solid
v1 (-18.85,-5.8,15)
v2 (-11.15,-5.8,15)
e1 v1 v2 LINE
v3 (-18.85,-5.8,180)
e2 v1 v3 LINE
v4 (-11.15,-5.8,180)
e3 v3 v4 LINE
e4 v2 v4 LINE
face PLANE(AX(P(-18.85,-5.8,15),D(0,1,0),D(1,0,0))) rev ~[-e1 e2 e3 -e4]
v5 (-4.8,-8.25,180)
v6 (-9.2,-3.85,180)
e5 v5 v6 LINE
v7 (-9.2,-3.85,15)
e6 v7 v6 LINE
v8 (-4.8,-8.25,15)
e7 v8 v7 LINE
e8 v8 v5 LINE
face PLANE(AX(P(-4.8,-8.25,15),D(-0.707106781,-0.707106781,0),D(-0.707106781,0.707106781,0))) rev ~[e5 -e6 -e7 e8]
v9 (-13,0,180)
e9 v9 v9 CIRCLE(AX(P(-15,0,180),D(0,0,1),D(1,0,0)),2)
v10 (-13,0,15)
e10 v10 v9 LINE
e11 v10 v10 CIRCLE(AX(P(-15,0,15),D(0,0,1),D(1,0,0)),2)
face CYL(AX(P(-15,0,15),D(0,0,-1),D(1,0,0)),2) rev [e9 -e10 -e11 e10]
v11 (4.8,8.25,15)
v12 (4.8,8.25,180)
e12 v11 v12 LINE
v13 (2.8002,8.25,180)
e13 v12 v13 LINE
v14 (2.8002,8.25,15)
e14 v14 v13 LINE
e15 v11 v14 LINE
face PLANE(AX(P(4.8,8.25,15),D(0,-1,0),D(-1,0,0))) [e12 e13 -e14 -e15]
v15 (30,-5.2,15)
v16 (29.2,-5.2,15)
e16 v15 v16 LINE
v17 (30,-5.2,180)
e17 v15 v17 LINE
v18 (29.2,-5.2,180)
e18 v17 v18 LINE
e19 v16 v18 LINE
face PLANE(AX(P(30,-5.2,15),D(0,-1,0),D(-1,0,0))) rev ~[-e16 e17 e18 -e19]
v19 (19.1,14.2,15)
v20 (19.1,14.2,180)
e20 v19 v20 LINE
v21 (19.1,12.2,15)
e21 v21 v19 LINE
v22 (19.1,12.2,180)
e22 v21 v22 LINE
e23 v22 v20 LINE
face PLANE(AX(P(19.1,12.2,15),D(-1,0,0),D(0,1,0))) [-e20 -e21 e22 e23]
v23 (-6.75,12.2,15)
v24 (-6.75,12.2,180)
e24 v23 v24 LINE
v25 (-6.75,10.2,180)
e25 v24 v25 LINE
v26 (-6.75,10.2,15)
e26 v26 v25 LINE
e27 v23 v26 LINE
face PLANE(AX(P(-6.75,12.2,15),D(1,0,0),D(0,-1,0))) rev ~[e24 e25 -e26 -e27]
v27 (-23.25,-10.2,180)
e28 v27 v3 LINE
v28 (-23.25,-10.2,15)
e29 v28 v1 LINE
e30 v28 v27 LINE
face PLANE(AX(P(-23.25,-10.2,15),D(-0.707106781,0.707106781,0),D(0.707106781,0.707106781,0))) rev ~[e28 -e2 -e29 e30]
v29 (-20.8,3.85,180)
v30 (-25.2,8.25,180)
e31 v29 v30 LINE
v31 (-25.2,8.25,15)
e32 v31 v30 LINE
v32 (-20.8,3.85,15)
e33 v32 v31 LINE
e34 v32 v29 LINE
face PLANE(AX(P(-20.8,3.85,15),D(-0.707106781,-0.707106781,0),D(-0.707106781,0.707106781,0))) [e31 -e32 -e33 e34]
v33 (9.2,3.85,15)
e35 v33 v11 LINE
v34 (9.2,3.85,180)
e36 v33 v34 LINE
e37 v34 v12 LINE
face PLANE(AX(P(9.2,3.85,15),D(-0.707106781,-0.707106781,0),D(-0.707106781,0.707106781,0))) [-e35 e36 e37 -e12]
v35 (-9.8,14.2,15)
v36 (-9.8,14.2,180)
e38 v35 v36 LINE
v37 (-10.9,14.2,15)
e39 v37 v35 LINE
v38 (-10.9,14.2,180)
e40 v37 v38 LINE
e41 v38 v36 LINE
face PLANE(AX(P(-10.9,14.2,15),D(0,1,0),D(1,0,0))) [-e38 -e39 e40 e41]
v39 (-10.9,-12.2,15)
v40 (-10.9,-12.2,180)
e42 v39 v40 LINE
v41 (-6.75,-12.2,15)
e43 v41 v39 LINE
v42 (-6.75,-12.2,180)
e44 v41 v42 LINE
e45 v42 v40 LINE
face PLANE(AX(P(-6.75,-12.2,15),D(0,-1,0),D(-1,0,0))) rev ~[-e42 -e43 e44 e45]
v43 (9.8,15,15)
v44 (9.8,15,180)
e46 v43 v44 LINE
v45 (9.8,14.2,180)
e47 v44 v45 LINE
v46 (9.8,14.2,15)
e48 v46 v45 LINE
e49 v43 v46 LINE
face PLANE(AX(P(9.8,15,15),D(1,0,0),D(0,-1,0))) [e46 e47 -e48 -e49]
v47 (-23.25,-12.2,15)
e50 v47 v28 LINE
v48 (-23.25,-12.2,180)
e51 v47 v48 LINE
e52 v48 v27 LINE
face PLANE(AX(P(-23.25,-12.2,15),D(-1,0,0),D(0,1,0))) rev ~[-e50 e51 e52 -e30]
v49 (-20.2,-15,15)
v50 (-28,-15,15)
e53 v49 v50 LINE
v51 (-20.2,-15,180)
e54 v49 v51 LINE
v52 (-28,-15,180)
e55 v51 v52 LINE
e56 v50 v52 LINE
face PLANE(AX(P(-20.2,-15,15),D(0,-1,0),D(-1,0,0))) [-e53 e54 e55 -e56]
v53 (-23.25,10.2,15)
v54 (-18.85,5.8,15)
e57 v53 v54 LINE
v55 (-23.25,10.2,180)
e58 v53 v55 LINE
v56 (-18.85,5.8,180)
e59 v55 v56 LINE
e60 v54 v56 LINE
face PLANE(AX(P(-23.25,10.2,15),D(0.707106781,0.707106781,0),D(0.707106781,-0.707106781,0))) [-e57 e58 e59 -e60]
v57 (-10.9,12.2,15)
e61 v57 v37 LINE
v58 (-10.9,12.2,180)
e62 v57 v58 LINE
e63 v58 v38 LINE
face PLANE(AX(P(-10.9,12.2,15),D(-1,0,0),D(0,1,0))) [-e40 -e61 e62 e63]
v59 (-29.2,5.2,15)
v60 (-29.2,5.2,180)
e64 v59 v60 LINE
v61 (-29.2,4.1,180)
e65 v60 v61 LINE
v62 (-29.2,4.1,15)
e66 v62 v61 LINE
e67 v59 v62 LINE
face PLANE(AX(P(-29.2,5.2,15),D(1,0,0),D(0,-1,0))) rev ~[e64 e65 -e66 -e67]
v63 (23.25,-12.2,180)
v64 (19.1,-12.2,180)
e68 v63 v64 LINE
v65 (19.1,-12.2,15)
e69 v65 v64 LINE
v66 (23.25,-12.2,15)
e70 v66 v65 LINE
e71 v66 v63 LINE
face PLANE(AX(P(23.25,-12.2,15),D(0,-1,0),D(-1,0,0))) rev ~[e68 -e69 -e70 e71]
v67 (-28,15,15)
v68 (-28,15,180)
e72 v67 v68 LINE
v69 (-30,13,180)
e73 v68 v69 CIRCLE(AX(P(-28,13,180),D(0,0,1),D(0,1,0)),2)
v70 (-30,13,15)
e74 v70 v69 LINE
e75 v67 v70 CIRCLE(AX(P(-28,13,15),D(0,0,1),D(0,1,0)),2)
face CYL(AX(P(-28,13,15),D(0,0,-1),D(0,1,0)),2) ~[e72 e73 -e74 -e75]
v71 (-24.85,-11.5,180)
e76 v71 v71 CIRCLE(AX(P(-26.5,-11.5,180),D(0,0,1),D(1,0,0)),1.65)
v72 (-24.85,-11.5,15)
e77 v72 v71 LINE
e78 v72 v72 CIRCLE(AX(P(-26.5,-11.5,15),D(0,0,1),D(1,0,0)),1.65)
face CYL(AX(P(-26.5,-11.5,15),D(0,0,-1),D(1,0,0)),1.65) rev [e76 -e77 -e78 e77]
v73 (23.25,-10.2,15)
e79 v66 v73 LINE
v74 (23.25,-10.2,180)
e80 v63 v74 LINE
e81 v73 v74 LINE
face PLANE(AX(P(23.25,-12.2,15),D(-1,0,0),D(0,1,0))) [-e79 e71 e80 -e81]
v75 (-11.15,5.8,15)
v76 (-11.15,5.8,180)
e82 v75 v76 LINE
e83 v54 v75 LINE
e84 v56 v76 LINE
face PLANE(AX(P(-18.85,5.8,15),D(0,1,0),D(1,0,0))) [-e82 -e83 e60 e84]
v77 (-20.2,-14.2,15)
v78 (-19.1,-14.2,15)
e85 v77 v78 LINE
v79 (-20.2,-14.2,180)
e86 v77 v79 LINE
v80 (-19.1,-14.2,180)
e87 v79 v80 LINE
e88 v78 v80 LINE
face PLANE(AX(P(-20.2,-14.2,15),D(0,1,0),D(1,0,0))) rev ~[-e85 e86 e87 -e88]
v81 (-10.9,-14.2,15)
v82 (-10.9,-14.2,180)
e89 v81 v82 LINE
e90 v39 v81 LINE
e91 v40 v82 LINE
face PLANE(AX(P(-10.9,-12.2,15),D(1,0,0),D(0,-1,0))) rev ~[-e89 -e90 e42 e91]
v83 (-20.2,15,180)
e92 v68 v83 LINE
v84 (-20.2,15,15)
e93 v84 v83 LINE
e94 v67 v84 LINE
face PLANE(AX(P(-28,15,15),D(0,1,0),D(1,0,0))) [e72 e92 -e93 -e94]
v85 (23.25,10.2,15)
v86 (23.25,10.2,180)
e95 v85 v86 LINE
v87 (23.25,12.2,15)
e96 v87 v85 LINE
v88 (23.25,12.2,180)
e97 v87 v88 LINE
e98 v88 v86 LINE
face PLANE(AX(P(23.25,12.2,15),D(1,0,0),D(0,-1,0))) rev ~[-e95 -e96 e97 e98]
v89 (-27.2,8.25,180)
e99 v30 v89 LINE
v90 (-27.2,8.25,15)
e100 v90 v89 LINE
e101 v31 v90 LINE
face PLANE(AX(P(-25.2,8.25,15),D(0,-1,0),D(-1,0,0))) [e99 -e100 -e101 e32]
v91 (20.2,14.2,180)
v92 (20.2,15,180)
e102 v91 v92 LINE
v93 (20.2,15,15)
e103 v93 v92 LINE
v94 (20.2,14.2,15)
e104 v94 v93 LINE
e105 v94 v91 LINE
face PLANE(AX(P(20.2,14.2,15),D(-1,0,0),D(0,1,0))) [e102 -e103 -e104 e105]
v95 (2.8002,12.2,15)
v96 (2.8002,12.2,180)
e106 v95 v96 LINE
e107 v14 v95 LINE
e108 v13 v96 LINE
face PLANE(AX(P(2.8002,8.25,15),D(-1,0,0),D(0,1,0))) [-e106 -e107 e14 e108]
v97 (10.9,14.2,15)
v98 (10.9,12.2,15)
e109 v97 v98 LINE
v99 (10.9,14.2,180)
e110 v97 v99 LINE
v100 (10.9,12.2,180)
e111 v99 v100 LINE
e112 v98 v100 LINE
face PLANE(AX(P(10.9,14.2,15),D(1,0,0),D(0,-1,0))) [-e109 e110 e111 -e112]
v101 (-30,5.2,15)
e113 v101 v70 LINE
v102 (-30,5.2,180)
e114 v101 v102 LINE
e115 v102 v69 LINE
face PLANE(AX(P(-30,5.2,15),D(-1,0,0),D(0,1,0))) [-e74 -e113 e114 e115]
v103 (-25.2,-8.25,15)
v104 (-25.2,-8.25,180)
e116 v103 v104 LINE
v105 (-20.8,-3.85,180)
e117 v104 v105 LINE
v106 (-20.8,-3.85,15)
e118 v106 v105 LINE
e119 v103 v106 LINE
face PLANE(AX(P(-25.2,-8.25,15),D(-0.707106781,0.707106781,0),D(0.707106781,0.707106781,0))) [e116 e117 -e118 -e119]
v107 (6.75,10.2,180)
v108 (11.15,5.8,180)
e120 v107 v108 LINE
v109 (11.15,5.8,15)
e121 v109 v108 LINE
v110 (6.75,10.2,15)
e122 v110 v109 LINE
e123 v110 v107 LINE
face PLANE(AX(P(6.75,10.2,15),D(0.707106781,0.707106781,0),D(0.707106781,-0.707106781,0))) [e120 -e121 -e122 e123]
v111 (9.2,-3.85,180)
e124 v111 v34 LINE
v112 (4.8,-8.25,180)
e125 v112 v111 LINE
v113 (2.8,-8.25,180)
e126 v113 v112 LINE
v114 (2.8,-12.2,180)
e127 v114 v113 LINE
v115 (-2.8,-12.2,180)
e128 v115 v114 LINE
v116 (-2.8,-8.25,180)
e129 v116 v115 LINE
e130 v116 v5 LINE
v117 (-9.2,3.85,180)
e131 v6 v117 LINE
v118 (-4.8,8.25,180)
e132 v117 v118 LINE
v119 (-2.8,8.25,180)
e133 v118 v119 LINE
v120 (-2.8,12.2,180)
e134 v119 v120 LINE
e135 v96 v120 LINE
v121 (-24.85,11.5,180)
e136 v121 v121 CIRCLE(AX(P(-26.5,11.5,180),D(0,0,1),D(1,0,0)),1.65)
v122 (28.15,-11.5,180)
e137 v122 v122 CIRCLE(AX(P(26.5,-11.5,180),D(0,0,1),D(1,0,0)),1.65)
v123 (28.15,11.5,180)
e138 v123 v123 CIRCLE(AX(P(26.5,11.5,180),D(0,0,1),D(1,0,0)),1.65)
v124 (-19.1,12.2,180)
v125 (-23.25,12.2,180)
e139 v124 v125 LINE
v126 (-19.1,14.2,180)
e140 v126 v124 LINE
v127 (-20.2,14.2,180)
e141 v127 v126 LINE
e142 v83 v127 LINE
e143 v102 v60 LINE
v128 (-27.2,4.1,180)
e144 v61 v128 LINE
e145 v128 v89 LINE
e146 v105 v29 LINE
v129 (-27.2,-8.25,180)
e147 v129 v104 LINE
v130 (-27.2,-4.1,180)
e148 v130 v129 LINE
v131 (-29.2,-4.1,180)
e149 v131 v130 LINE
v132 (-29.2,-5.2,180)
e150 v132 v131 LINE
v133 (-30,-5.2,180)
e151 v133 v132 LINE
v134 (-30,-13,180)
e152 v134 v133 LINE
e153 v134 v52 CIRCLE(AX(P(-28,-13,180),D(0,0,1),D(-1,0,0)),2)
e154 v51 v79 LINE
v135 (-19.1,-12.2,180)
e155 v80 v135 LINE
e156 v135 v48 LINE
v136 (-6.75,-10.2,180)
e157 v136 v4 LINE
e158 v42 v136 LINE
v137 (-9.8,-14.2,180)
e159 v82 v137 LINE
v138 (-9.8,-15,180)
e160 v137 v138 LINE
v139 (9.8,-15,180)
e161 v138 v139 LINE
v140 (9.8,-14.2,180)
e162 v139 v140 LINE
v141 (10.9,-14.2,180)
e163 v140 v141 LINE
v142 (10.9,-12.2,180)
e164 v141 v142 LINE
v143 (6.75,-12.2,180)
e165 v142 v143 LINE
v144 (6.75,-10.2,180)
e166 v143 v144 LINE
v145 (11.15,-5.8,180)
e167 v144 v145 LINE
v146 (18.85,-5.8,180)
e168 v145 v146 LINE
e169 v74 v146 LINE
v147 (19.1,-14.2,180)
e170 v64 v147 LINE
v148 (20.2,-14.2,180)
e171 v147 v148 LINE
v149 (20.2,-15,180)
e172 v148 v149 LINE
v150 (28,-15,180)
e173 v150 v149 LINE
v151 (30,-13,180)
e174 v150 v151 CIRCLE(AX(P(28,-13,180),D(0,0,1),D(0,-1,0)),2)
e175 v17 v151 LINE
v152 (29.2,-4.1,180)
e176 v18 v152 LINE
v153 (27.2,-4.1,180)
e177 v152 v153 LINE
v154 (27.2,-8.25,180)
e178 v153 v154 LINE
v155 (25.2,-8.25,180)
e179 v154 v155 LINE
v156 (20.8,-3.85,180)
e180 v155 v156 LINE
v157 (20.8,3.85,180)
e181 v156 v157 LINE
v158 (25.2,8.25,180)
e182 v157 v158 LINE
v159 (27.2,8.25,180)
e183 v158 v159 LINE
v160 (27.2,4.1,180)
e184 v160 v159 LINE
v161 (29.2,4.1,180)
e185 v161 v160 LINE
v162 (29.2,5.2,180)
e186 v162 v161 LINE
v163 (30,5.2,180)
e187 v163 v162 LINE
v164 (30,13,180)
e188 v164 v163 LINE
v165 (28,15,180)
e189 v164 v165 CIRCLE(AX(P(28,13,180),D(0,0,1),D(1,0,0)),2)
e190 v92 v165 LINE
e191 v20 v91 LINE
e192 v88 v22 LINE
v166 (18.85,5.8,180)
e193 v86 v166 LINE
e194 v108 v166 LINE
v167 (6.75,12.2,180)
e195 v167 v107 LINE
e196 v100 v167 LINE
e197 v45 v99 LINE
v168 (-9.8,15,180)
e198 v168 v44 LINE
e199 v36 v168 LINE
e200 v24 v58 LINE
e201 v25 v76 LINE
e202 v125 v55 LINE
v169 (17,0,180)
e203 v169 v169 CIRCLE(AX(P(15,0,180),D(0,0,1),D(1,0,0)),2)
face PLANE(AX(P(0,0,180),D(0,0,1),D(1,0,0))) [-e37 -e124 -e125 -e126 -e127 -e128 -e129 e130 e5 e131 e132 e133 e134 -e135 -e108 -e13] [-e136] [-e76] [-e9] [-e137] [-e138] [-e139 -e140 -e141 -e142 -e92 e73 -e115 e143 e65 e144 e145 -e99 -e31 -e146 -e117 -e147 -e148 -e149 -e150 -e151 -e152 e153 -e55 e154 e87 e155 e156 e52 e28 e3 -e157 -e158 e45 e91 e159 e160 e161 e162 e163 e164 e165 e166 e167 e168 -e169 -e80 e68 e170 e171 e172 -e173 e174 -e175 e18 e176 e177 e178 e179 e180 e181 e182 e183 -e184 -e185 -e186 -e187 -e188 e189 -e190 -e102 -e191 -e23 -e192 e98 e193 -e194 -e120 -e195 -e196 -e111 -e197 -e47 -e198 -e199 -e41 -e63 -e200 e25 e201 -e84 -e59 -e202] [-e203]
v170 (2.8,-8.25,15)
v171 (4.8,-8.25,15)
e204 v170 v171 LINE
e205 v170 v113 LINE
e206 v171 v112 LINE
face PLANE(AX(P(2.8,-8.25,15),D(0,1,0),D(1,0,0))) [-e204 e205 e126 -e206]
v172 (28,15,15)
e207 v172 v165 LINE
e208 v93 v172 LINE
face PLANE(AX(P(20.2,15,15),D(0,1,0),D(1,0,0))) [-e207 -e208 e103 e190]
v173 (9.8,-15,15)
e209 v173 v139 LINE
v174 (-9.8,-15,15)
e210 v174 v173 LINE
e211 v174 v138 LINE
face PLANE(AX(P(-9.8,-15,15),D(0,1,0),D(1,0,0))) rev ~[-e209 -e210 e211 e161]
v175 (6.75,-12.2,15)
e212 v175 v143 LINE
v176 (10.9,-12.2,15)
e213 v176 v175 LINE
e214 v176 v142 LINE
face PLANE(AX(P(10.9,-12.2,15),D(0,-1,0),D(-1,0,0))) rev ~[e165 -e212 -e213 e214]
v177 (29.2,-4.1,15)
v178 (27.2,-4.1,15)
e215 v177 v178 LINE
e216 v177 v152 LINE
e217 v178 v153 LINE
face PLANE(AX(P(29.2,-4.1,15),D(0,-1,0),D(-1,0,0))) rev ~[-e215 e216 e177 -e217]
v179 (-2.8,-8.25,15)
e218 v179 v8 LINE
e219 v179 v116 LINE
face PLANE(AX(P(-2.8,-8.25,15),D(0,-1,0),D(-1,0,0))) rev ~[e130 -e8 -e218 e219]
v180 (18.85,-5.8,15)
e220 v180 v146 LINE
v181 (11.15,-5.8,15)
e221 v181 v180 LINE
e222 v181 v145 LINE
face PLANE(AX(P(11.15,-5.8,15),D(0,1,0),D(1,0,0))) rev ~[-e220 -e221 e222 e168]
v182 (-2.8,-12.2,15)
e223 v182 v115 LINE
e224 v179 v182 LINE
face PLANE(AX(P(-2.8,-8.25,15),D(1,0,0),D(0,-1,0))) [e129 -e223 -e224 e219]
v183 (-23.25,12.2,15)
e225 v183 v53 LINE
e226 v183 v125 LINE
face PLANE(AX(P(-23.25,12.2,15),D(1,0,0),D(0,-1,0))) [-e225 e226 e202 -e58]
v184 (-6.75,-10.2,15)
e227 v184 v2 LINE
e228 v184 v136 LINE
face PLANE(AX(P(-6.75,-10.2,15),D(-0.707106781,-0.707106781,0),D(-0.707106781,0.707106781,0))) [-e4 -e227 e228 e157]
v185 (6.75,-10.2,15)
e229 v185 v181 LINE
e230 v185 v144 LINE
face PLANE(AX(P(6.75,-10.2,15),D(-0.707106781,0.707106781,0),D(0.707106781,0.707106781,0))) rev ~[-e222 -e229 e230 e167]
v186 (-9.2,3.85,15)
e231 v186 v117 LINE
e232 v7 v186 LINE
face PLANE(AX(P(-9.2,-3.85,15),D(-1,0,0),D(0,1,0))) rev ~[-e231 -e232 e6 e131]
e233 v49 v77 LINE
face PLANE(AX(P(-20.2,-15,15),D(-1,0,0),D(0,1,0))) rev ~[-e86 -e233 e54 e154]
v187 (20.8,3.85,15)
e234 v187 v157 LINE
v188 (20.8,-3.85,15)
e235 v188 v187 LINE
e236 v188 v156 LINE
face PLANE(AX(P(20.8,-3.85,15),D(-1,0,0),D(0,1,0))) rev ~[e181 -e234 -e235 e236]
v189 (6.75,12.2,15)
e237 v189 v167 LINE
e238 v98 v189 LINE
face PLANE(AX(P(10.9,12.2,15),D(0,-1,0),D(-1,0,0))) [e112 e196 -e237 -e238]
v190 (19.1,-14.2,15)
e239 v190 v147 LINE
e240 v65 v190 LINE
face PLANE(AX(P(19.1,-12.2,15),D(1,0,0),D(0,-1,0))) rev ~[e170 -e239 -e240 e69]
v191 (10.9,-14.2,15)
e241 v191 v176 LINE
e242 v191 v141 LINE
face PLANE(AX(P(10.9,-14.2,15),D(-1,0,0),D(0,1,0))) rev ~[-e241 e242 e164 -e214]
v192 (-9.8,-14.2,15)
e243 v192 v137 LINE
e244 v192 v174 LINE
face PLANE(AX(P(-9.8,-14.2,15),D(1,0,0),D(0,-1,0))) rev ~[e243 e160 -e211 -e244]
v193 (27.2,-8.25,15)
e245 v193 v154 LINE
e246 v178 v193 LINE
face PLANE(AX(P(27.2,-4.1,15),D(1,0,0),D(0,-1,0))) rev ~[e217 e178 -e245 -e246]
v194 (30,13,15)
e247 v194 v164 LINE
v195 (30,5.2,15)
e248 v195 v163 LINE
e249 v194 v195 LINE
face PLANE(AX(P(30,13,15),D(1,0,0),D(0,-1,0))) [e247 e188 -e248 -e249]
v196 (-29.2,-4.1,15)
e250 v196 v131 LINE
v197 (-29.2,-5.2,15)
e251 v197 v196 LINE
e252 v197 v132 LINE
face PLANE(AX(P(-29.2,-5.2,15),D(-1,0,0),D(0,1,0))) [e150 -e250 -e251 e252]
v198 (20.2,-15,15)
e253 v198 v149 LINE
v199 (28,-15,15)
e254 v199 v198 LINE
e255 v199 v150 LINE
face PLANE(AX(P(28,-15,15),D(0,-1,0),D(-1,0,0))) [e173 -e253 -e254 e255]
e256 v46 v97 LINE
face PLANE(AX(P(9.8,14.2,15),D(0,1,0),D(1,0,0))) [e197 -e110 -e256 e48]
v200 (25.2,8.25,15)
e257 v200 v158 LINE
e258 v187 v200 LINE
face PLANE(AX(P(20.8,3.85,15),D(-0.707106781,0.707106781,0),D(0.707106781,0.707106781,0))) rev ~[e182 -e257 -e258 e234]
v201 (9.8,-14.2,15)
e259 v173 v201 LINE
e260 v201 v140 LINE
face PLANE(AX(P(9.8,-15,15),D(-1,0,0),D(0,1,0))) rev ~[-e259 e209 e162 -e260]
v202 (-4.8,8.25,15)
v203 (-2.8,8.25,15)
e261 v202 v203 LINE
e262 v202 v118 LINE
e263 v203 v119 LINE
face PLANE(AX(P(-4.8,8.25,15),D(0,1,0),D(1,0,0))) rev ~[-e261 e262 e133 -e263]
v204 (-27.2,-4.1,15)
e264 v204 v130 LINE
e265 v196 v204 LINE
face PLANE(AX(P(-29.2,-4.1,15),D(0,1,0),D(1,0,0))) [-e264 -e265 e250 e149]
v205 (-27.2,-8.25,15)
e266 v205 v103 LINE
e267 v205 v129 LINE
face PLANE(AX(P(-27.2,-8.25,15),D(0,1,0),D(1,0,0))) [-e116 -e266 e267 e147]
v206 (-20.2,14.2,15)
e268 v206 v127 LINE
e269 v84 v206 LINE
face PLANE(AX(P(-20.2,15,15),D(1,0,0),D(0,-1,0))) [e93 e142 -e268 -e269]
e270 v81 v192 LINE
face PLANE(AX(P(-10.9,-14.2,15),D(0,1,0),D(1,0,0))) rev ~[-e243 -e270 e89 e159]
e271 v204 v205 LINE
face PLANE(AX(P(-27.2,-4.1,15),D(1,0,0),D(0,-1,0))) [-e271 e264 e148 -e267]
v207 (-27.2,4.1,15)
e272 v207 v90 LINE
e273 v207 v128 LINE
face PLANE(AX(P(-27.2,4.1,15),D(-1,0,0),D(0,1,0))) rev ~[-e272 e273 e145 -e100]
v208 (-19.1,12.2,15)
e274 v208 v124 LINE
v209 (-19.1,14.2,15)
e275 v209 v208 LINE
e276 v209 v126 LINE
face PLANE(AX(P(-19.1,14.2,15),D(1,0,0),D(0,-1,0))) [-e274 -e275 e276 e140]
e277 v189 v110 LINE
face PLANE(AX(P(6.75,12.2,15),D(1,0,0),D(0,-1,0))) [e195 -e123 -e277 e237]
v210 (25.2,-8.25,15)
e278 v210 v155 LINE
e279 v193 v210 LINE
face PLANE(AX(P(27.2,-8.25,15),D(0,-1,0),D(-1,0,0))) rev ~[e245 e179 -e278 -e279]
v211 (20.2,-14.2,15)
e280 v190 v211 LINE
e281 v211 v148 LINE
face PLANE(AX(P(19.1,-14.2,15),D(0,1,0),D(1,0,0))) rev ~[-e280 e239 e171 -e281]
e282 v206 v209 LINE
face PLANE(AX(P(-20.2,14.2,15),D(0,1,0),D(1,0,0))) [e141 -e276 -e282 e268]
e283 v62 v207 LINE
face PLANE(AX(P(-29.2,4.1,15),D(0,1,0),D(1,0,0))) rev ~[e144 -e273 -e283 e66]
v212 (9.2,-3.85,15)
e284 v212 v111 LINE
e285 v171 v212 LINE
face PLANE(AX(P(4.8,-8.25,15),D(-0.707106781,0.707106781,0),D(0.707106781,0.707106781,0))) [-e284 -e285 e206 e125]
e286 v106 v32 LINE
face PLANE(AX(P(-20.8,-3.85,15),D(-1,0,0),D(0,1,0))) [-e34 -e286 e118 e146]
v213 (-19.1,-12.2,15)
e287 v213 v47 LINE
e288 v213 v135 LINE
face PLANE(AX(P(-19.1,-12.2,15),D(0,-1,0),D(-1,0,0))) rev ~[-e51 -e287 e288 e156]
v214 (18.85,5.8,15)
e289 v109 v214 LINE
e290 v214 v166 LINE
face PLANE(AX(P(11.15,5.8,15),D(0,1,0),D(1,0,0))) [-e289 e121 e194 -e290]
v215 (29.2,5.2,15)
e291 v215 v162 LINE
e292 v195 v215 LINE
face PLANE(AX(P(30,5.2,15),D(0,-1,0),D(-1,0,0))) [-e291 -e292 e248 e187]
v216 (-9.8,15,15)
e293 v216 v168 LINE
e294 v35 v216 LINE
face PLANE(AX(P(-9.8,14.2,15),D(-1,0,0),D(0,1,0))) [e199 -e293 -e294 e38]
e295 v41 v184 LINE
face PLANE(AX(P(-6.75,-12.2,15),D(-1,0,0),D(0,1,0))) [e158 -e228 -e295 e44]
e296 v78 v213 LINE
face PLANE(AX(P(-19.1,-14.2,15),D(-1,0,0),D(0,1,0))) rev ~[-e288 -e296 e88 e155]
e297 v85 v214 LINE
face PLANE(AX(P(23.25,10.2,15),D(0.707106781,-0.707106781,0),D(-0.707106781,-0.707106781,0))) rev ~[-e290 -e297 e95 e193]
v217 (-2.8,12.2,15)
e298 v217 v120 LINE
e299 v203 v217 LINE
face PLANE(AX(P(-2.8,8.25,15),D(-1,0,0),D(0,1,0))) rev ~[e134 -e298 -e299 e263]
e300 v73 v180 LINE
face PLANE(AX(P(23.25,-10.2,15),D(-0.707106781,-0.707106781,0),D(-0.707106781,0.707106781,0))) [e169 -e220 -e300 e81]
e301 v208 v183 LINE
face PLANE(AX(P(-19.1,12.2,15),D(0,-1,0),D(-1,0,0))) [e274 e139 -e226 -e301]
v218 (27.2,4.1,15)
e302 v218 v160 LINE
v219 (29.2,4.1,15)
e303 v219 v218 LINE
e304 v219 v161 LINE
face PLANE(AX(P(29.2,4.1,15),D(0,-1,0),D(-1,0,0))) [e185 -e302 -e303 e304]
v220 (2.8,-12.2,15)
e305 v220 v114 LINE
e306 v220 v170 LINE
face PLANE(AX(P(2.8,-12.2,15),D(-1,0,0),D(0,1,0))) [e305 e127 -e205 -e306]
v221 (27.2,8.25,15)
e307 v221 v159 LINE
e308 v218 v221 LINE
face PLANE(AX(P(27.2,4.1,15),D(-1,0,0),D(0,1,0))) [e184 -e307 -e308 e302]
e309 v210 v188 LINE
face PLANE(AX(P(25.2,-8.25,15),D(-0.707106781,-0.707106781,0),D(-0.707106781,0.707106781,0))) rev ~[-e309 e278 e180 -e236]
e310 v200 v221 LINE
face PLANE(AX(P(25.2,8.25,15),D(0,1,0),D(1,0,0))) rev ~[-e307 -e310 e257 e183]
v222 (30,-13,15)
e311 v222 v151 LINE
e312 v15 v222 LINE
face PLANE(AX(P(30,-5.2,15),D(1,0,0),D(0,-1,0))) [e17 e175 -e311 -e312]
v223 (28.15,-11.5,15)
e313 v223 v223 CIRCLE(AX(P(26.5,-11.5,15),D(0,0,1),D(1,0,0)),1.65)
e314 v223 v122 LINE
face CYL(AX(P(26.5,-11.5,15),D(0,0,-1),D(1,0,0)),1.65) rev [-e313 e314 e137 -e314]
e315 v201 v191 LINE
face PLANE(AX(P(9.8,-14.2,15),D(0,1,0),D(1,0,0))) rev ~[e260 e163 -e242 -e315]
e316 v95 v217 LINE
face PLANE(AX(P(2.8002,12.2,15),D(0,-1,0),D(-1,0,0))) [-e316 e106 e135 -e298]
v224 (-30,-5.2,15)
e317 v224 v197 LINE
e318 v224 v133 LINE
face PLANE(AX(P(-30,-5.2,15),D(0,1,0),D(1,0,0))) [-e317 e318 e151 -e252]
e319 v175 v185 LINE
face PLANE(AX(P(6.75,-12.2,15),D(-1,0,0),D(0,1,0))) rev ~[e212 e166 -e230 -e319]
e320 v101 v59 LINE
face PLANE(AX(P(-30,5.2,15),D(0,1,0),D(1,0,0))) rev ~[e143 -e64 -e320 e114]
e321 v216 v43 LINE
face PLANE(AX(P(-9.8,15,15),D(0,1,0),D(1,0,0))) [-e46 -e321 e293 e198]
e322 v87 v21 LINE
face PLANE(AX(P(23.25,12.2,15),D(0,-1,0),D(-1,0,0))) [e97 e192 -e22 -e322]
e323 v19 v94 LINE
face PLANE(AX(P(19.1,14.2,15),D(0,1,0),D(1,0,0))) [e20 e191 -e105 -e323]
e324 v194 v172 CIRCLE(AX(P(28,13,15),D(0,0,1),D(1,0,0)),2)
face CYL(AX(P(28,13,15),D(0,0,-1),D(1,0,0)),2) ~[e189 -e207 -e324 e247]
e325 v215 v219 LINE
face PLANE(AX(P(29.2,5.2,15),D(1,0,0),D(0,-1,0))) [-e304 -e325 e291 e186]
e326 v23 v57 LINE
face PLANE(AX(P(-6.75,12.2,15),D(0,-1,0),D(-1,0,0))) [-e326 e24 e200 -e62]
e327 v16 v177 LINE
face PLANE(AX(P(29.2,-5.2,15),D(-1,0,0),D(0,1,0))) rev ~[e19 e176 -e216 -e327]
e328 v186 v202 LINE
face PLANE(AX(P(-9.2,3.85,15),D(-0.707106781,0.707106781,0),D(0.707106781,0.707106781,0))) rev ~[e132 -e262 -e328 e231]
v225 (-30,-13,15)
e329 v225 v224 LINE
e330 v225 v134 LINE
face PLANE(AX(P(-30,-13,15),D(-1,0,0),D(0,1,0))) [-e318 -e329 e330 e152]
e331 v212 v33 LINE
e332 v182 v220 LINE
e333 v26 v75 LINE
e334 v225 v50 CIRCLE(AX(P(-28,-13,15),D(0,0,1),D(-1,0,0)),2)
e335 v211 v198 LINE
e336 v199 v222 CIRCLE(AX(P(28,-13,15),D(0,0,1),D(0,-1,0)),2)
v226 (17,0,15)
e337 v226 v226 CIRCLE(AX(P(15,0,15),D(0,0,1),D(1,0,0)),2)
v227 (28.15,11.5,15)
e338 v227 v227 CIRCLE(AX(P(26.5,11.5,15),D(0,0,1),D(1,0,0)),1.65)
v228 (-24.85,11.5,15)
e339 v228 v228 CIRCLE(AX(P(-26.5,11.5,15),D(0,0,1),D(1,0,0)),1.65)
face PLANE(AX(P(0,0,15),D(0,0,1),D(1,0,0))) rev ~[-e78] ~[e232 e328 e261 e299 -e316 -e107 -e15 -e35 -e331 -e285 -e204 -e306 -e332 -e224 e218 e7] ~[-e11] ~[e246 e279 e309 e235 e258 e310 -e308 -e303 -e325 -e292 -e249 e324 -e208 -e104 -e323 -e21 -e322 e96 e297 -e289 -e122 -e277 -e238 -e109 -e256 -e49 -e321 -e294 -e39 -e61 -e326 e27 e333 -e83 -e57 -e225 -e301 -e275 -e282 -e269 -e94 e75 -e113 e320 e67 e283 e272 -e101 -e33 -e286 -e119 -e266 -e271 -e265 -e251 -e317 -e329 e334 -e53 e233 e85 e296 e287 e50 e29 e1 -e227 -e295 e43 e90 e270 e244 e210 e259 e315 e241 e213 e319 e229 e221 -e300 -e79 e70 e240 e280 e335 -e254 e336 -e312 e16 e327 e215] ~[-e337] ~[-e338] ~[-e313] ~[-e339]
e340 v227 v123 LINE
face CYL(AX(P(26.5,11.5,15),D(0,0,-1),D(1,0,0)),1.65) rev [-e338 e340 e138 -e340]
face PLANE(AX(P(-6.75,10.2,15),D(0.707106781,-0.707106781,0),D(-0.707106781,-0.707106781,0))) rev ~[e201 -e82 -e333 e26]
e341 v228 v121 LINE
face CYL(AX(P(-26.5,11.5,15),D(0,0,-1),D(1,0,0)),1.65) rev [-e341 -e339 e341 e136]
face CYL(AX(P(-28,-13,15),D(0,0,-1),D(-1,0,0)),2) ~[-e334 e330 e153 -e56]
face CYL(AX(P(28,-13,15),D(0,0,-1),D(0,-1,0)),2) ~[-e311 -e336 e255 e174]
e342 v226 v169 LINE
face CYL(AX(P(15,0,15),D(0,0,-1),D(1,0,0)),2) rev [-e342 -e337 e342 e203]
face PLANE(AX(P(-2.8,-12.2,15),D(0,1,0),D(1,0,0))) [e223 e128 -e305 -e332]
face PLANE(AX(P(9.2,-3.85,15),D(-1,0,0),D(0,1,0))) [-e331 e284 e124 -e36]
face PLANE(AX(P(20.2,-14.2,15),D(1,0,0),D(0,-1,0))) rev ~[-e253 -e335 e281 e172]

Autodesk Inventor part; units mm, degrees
ref_plane "Start Plane" through (0, 0, 15) normal (0, 0, 1) x (1, 0, 0)
ref_plane "End Plane" through (0, 0, 180) normal (0, 0, 1) x (1, 0, 0)
sketch "Sketch" plane through (0, 0, 0) normal (0, 0, 1) x (1, 0, 0)
  line L0 (-30, 15) -> (0, -15) construction
  line L1 (0, 15) -> (-30, -15) construction
  line L2 (-20.2, 15) -> (-20.2, 14.2)
  line L3 (-20.2, 14.2) -> (-19.1, 14.2)
  line L4 (-19.1, 14.2) -> (-19.1, 12.2)
  line L5 (-19.1, 12.2) -> (-23.25, 12.2)
  line L6 (-23.25, 12.2) -> (-23.25, 10.2)
  line L7 (-23.25, 10.2) -> (-18.85, 5.8)
  line L8 (-18.85, 5.8) -> (-11.15, 5.8)
  line L9 (-6.75, 12.2) -> (-10.9, 12.2)
  line L10 (-10.9, 12.2) -> (-10.9, 14.2)
  line L11 (-10.9, 14.2) -> (-9.8, 14.2)
  line L12 (-9.8, 14.2) -> (-9.8, 15)
  line L13 (-6.75, 12.2) -> (-6.75, 10.2)
  line L14 (-6.75, 10.2) -> (-11.15, 5.8)
  line L15 (-20.2, -15) -> (-20.2, -14.2)
  line L16 (-20.2, -14.2) -> (-19.1, -14.2)
  line L17 (-19.1, -14.2) -> (-19.1, -12.2)
  line L18 (-19.1, -12.2) -> (-23.25, -12.2)
  line L19 (-23.25, -12.2) -> (-23.25, -10.2)
  line L20 (-23.25, -10.2) -> (-18.85, -5.8)
  line L21 (-18.85, -5.8) -> (-11.15, -5.8)
  line L22 (-6.75, -10.2) -> (-11.15, -5.8)
  line L23 (-6.75, -12.2) -> (-6.75, -10.2)
  line L24 (-6.75, -12.2) -> (-10.9, -12.2)
  line L25 (-10.9, -12.2) -> (-10.9, -14.2)
  line L26 (-10.9, -14.2) -> (-9.8, -14.2)
  line L27 (-9.8, -14.2) -> (-9.8, -15)
  line L28 (-2.8, -8.25) -> (-4.8, -8.25)
  line L29 (-4.8, -8.25) -> (-9.2, -3.85)
  line L30 (-9.2, -3.85) -> (-9.2, 3.85)
  line L31 (-9.2, 3.85) -> (-4.8, 8.25)
  line L32 (-4.8, 8.25) -> (-2.8, 8.25)
  line L33 (-30, 5.2) -> (-29.2, 5.2)
  line L34 (-29.2, 5.2) -> (-29.2, 4.1)
  line L35 (-29.2, 4.1) -> (-27.2, 4.1)
  line L36 (-27.2, 4.1) -> (-27.2, 8.25)
  line L37 (-25.2, 8.25) -> (-27.2, 8.25)
  line L38 (-20.8, 3.85) -> (-25.2, 8.25)
  line L39 (-20.8, -3.85) -> (-20.8, 3.85)
  line L40 (-25.2, -8.25) -> (-20.8, -3.85)
  line L41 (-27.2, -4.1) -> (-27.2, -8.25)
  line L42 (-29.2, -4.1) -> (-27.2, -4.1)
  line L43 (-29.2, -5.2) -> (-29.2, -4.1)
  line L44 (-30, -5.2) -> (-29.2, -5.2)
  line L45 (-27.2, -8.25) -> (-25.2, -8.25)
  circle A0 centre (-26.5, 11.5) radius 1.65
  circle A1 centre (-26.5, -11.5) radius 1.65
  line L46 (-30, -13) -> (-30, -5.2)
  line L47 (-30, 5.2) -> (-30, 13)
  line L48 (-20.2, -15) -> (-28, -15)
  line L49 (0, 15) -> (30, -15) construction
  line L50 (30, 15) -> (0, -15) construction
  line L51 (9.8, 15) -> (9.8, 14.2)
  line L52 (9.8, 14.2) -> (10.9, 14.2)
  line L53 (10.9, 14.2) -> (10.9, 12.2)
  line L54 (10.9, 12.2) -> (6.75, 12.2)
  line L55 (6.75, 12.2) -> (6.75, 10.2)
  line L56 (6.75, 10.2) -> (11.15, 5.8)
  line L57 (11.15, 5.8) -> (18.85, 5.8)
  line L58 (23.25, 12.2) -> (19.1, 12.2)
  line L59 (19.1, 12.2) -> (19.1, 14.2)
  line L60 (19.1, 14.2) -> (20.2, 14.2)
  line L61 (20.2, 14.2) -> (20.2, 15)
  line L62 (23.25, 12.2) -> (23.25, 10.2)
  line L63 (23.25, 10.2) -> (18.85, 5.8)
  line L64 (9.8, -15) -> (9.8, -14.2)
  line L65 (9.8, -14.2) -> (10.9, -14.2)
  line L66 (10.9, -14.2) -> (10.9, -12.2)
  line L67 (10.9, -12.2) -> (6.75, -12.2)
  line L68 (6.75, -12.2) -> (6.75, -10.2)
  line L69 (6.75, -10.2) -> (11.15, -5.8)
  line L70 (11.15, -5.8) -> (18.85, -5.8)
  line L71 (23.25, -10.2) -> (18.85, -5.8)
  line L72 (23.25, -12.2) -> (23.25, -10.2)
  line L73 (23.25, -12.2) -> (19.1, -12.2)
  line L74 (19.1, -12.2) -> (19.1, -14.2)
  line L75 (19.1, -14.2) -> (20.2, -14.2)
  line L76 (20.2, -14.2) -> (20.2, -15)
  line L77 (30, 5.2) -> (29.2, 5.2)
  line L78 (29.2, 5.2) -> (29.2, 4.1)
  line L79 (29.2, 4.1) -> (27.2, 4.1)
  line L80 (27.2, 4.1) -> (27.2, 8.25)
  line L81 (30, -5.2) -> (29.2, -5.2)
  line L82 (29.2, -5.2) -> (29.2, -4.1)
  line L83 (29.2, -4.1) -> (27.2, -4.1)
  line L84 (27.2, -4.1) -> (27.2, -8.25)
  line L85 (27.2, -8.25) -> (25.2, -8.25)
  line L86 (25.2, -8.25) -> (20.8, -3.85)
  line L87 (20.8, -3.85) -> (20.8, 3.85)
  line L88 (20.8, 3.85) -> (25.2, 8.25)
  line L89 (25.2, 8.25) -> (27.2, 8.25)
  line L90 (4.8, 8.25) -> (2.8002, 8.25)
  line L91 (9.2, 3.85) -> (4.8, 8.25)
  line L92 (9.2, -3.85) -> (9.2, 3.85)
  line L93 (4.8, -8.25) -> (9.2, -3.85)
  line L94 (2.8, -8.25) -> (4.8, -8.25)
  circle A2 centre (26.5, 11.5) radius 1.65
  circle A3 centre (26.5, -11.5) radius 1.65
  line L95 (28, -15) -> (20.2, -15)
  circle A4 centre (-15, 0) radius 2
  circle A5 centre (15, 0) radius 2
  line L96 (-2.8, 8.25) -> (-2.8, 12.2)
  line L97 (2.8002, 8.25) -> (2.8002, 12.2)
  line L98 (2.8002, 12.2) -> (-2.8, 12.2)
  line L99 (-2.8, -8.25) -> (-2.8, -12.2)
  line L100 (-2.8, -12.2) -> (2.8, -12.2)
  line L101 (2.8, -12.2) -> (2.8, -8.25)
  line L102 (30, 13) -> (30, 5.2)
  line L103 (30, -5.2) -> (30, -13)
  arc A6 (-28, 15) -> (-30, 13) centre (-28, 13) ccw
  arc A7 (30, 13) -> (28, 15) centre (28, 13) ccw
  arc A8 (28, -15) -> (30, -13) centre (28, -13) ccw
  arc A9 (-30, -13) -> (-28, -15) centre (-28, -13) ccw
  line L104 (-28, 15) -> (-20.2, 15)
  line L105 (20.2, 15) -> (28, 15)
  line L106 (-9.8, -15) -> (9.8, -15)
  line L107 (-9.8, 15) -> (9.8, 15)
  point P0 (0, 0)
  point P1 (-15, 0)
  point P2 (-15, 0)
  point P3 (15, 0)
  point P4 (15, 0)
  point P5 (0, -15)
  dimension "d0" = 8.2
  dimension "d2" = 10.4
  dimension "d7" = 16.5
  dimension "d9" = 0.8
  dimension "d10" = 2
  dimension "d11" = 2
  dimension "d20" = 2
  dimension "d27" = 8.2
  dimension "d29" = 10.4
  dimension "d34" = 16.5
  dimension "d36" = 0.8
  dimension "d37" = 2
  dimension "d38" = 2
  dimension "d39" = 0.8
  dimension "d40" = 10.4
  dimension "d42" = 8.2
  dimension "d44" = 2
  dimension "d45" = 16.5
  dimension "d47" = 2
  dimension "d49" = 23
  dimension "d50" = 11.5
  dimension "d52" = 11.5
  dimension "d53" = 3.3
  dimension "d54" = 10.9
  dimension "d56" = 7.7
  dimension "d58" = 18.4
  dimension "d59" = 90
  dimension "d63" = 135
  dimension "d64" = 3.5
  dimension "d65" = 4
  dimension "d75" = 0.8
  dimension "d76" = 1.1
  dimension "d77" = 2
  dimension "d78" = 4.4
  dimension "d82" = 0.8
  dimension "d83" = 8.2
  dimension "d84" = 8.2
  dimension "d85" = 0.8
  dimension "d86" = 1.1
  dimension "d87" = 2
  dimension "d88" = 1.1
  dimension "d89" = 0.8
  dimension "d90" = 4.15
  dimension "d91" = 4.15
  dimension "d94" = 4.4
  dimension "d95" = 6.4
  dimension "d96" = 4.4
  dimension "d97" = 3.85
  dimension "d98" = 45
  dimension "d99" = 4.1
  dimension "d100" = 8.25
  dimension "d101" = 4.1
  dimension "d102" = 6.3
  dimension "d103" = 3.3
  dimension "d105" = 2
  dimension "d106" = 2.7577
  dimension "d107" = 6.2225
  dimension "d108" = 3.25
  dimension "d109" = 4.1
  dimension "d110" = 5.2
  dimension "d111" = 5.8
  dimension "d112" = 2.7577
  dimension "d113" = 2.7577
  dimension "d114" = 6.2225
extrude "Body" add sketch "Sketch" along normal up to surface (165 mm away) from surface at 15
sketch "Sketch4" plane through (0, 0, 0) normal (0, 0, 1) x (1, 0, 0)
  line L0 (0, 0) -> (10, 0)
ref_plane "Work Plane3" through (0, 0, 0) normal (0, -1, 0) x (1, 0, 0)
sketch "Sketch5" plane through (0, 0, 0) normal (0, -1, 0) x (1, 0, 0)
  line L0 (-2, 15) -> (12, 15)
  line L1 (-2, 180) -> (12, 180)
  dimension "d178" = 165
ref_plane "Work Plane4" through (225, -13, 15) normal (0, 0, -1) x (-1, 0, 0)
split "Split1" plane through (225, -13, 15) removes the side toward (0, 0, -1)
equation "\"d50\" = 0.5 * d49"
equation "\"d52\" = 0.5 * d51"
equation "\"G_OFFSET_START\" = -15"
equation "\"G_OFFSET_END\" = 0"
equation "\"G_L\" = 165"
equation "\"d51\" = 23"
properties part number "165 mm" material "Aluminum 6061"
